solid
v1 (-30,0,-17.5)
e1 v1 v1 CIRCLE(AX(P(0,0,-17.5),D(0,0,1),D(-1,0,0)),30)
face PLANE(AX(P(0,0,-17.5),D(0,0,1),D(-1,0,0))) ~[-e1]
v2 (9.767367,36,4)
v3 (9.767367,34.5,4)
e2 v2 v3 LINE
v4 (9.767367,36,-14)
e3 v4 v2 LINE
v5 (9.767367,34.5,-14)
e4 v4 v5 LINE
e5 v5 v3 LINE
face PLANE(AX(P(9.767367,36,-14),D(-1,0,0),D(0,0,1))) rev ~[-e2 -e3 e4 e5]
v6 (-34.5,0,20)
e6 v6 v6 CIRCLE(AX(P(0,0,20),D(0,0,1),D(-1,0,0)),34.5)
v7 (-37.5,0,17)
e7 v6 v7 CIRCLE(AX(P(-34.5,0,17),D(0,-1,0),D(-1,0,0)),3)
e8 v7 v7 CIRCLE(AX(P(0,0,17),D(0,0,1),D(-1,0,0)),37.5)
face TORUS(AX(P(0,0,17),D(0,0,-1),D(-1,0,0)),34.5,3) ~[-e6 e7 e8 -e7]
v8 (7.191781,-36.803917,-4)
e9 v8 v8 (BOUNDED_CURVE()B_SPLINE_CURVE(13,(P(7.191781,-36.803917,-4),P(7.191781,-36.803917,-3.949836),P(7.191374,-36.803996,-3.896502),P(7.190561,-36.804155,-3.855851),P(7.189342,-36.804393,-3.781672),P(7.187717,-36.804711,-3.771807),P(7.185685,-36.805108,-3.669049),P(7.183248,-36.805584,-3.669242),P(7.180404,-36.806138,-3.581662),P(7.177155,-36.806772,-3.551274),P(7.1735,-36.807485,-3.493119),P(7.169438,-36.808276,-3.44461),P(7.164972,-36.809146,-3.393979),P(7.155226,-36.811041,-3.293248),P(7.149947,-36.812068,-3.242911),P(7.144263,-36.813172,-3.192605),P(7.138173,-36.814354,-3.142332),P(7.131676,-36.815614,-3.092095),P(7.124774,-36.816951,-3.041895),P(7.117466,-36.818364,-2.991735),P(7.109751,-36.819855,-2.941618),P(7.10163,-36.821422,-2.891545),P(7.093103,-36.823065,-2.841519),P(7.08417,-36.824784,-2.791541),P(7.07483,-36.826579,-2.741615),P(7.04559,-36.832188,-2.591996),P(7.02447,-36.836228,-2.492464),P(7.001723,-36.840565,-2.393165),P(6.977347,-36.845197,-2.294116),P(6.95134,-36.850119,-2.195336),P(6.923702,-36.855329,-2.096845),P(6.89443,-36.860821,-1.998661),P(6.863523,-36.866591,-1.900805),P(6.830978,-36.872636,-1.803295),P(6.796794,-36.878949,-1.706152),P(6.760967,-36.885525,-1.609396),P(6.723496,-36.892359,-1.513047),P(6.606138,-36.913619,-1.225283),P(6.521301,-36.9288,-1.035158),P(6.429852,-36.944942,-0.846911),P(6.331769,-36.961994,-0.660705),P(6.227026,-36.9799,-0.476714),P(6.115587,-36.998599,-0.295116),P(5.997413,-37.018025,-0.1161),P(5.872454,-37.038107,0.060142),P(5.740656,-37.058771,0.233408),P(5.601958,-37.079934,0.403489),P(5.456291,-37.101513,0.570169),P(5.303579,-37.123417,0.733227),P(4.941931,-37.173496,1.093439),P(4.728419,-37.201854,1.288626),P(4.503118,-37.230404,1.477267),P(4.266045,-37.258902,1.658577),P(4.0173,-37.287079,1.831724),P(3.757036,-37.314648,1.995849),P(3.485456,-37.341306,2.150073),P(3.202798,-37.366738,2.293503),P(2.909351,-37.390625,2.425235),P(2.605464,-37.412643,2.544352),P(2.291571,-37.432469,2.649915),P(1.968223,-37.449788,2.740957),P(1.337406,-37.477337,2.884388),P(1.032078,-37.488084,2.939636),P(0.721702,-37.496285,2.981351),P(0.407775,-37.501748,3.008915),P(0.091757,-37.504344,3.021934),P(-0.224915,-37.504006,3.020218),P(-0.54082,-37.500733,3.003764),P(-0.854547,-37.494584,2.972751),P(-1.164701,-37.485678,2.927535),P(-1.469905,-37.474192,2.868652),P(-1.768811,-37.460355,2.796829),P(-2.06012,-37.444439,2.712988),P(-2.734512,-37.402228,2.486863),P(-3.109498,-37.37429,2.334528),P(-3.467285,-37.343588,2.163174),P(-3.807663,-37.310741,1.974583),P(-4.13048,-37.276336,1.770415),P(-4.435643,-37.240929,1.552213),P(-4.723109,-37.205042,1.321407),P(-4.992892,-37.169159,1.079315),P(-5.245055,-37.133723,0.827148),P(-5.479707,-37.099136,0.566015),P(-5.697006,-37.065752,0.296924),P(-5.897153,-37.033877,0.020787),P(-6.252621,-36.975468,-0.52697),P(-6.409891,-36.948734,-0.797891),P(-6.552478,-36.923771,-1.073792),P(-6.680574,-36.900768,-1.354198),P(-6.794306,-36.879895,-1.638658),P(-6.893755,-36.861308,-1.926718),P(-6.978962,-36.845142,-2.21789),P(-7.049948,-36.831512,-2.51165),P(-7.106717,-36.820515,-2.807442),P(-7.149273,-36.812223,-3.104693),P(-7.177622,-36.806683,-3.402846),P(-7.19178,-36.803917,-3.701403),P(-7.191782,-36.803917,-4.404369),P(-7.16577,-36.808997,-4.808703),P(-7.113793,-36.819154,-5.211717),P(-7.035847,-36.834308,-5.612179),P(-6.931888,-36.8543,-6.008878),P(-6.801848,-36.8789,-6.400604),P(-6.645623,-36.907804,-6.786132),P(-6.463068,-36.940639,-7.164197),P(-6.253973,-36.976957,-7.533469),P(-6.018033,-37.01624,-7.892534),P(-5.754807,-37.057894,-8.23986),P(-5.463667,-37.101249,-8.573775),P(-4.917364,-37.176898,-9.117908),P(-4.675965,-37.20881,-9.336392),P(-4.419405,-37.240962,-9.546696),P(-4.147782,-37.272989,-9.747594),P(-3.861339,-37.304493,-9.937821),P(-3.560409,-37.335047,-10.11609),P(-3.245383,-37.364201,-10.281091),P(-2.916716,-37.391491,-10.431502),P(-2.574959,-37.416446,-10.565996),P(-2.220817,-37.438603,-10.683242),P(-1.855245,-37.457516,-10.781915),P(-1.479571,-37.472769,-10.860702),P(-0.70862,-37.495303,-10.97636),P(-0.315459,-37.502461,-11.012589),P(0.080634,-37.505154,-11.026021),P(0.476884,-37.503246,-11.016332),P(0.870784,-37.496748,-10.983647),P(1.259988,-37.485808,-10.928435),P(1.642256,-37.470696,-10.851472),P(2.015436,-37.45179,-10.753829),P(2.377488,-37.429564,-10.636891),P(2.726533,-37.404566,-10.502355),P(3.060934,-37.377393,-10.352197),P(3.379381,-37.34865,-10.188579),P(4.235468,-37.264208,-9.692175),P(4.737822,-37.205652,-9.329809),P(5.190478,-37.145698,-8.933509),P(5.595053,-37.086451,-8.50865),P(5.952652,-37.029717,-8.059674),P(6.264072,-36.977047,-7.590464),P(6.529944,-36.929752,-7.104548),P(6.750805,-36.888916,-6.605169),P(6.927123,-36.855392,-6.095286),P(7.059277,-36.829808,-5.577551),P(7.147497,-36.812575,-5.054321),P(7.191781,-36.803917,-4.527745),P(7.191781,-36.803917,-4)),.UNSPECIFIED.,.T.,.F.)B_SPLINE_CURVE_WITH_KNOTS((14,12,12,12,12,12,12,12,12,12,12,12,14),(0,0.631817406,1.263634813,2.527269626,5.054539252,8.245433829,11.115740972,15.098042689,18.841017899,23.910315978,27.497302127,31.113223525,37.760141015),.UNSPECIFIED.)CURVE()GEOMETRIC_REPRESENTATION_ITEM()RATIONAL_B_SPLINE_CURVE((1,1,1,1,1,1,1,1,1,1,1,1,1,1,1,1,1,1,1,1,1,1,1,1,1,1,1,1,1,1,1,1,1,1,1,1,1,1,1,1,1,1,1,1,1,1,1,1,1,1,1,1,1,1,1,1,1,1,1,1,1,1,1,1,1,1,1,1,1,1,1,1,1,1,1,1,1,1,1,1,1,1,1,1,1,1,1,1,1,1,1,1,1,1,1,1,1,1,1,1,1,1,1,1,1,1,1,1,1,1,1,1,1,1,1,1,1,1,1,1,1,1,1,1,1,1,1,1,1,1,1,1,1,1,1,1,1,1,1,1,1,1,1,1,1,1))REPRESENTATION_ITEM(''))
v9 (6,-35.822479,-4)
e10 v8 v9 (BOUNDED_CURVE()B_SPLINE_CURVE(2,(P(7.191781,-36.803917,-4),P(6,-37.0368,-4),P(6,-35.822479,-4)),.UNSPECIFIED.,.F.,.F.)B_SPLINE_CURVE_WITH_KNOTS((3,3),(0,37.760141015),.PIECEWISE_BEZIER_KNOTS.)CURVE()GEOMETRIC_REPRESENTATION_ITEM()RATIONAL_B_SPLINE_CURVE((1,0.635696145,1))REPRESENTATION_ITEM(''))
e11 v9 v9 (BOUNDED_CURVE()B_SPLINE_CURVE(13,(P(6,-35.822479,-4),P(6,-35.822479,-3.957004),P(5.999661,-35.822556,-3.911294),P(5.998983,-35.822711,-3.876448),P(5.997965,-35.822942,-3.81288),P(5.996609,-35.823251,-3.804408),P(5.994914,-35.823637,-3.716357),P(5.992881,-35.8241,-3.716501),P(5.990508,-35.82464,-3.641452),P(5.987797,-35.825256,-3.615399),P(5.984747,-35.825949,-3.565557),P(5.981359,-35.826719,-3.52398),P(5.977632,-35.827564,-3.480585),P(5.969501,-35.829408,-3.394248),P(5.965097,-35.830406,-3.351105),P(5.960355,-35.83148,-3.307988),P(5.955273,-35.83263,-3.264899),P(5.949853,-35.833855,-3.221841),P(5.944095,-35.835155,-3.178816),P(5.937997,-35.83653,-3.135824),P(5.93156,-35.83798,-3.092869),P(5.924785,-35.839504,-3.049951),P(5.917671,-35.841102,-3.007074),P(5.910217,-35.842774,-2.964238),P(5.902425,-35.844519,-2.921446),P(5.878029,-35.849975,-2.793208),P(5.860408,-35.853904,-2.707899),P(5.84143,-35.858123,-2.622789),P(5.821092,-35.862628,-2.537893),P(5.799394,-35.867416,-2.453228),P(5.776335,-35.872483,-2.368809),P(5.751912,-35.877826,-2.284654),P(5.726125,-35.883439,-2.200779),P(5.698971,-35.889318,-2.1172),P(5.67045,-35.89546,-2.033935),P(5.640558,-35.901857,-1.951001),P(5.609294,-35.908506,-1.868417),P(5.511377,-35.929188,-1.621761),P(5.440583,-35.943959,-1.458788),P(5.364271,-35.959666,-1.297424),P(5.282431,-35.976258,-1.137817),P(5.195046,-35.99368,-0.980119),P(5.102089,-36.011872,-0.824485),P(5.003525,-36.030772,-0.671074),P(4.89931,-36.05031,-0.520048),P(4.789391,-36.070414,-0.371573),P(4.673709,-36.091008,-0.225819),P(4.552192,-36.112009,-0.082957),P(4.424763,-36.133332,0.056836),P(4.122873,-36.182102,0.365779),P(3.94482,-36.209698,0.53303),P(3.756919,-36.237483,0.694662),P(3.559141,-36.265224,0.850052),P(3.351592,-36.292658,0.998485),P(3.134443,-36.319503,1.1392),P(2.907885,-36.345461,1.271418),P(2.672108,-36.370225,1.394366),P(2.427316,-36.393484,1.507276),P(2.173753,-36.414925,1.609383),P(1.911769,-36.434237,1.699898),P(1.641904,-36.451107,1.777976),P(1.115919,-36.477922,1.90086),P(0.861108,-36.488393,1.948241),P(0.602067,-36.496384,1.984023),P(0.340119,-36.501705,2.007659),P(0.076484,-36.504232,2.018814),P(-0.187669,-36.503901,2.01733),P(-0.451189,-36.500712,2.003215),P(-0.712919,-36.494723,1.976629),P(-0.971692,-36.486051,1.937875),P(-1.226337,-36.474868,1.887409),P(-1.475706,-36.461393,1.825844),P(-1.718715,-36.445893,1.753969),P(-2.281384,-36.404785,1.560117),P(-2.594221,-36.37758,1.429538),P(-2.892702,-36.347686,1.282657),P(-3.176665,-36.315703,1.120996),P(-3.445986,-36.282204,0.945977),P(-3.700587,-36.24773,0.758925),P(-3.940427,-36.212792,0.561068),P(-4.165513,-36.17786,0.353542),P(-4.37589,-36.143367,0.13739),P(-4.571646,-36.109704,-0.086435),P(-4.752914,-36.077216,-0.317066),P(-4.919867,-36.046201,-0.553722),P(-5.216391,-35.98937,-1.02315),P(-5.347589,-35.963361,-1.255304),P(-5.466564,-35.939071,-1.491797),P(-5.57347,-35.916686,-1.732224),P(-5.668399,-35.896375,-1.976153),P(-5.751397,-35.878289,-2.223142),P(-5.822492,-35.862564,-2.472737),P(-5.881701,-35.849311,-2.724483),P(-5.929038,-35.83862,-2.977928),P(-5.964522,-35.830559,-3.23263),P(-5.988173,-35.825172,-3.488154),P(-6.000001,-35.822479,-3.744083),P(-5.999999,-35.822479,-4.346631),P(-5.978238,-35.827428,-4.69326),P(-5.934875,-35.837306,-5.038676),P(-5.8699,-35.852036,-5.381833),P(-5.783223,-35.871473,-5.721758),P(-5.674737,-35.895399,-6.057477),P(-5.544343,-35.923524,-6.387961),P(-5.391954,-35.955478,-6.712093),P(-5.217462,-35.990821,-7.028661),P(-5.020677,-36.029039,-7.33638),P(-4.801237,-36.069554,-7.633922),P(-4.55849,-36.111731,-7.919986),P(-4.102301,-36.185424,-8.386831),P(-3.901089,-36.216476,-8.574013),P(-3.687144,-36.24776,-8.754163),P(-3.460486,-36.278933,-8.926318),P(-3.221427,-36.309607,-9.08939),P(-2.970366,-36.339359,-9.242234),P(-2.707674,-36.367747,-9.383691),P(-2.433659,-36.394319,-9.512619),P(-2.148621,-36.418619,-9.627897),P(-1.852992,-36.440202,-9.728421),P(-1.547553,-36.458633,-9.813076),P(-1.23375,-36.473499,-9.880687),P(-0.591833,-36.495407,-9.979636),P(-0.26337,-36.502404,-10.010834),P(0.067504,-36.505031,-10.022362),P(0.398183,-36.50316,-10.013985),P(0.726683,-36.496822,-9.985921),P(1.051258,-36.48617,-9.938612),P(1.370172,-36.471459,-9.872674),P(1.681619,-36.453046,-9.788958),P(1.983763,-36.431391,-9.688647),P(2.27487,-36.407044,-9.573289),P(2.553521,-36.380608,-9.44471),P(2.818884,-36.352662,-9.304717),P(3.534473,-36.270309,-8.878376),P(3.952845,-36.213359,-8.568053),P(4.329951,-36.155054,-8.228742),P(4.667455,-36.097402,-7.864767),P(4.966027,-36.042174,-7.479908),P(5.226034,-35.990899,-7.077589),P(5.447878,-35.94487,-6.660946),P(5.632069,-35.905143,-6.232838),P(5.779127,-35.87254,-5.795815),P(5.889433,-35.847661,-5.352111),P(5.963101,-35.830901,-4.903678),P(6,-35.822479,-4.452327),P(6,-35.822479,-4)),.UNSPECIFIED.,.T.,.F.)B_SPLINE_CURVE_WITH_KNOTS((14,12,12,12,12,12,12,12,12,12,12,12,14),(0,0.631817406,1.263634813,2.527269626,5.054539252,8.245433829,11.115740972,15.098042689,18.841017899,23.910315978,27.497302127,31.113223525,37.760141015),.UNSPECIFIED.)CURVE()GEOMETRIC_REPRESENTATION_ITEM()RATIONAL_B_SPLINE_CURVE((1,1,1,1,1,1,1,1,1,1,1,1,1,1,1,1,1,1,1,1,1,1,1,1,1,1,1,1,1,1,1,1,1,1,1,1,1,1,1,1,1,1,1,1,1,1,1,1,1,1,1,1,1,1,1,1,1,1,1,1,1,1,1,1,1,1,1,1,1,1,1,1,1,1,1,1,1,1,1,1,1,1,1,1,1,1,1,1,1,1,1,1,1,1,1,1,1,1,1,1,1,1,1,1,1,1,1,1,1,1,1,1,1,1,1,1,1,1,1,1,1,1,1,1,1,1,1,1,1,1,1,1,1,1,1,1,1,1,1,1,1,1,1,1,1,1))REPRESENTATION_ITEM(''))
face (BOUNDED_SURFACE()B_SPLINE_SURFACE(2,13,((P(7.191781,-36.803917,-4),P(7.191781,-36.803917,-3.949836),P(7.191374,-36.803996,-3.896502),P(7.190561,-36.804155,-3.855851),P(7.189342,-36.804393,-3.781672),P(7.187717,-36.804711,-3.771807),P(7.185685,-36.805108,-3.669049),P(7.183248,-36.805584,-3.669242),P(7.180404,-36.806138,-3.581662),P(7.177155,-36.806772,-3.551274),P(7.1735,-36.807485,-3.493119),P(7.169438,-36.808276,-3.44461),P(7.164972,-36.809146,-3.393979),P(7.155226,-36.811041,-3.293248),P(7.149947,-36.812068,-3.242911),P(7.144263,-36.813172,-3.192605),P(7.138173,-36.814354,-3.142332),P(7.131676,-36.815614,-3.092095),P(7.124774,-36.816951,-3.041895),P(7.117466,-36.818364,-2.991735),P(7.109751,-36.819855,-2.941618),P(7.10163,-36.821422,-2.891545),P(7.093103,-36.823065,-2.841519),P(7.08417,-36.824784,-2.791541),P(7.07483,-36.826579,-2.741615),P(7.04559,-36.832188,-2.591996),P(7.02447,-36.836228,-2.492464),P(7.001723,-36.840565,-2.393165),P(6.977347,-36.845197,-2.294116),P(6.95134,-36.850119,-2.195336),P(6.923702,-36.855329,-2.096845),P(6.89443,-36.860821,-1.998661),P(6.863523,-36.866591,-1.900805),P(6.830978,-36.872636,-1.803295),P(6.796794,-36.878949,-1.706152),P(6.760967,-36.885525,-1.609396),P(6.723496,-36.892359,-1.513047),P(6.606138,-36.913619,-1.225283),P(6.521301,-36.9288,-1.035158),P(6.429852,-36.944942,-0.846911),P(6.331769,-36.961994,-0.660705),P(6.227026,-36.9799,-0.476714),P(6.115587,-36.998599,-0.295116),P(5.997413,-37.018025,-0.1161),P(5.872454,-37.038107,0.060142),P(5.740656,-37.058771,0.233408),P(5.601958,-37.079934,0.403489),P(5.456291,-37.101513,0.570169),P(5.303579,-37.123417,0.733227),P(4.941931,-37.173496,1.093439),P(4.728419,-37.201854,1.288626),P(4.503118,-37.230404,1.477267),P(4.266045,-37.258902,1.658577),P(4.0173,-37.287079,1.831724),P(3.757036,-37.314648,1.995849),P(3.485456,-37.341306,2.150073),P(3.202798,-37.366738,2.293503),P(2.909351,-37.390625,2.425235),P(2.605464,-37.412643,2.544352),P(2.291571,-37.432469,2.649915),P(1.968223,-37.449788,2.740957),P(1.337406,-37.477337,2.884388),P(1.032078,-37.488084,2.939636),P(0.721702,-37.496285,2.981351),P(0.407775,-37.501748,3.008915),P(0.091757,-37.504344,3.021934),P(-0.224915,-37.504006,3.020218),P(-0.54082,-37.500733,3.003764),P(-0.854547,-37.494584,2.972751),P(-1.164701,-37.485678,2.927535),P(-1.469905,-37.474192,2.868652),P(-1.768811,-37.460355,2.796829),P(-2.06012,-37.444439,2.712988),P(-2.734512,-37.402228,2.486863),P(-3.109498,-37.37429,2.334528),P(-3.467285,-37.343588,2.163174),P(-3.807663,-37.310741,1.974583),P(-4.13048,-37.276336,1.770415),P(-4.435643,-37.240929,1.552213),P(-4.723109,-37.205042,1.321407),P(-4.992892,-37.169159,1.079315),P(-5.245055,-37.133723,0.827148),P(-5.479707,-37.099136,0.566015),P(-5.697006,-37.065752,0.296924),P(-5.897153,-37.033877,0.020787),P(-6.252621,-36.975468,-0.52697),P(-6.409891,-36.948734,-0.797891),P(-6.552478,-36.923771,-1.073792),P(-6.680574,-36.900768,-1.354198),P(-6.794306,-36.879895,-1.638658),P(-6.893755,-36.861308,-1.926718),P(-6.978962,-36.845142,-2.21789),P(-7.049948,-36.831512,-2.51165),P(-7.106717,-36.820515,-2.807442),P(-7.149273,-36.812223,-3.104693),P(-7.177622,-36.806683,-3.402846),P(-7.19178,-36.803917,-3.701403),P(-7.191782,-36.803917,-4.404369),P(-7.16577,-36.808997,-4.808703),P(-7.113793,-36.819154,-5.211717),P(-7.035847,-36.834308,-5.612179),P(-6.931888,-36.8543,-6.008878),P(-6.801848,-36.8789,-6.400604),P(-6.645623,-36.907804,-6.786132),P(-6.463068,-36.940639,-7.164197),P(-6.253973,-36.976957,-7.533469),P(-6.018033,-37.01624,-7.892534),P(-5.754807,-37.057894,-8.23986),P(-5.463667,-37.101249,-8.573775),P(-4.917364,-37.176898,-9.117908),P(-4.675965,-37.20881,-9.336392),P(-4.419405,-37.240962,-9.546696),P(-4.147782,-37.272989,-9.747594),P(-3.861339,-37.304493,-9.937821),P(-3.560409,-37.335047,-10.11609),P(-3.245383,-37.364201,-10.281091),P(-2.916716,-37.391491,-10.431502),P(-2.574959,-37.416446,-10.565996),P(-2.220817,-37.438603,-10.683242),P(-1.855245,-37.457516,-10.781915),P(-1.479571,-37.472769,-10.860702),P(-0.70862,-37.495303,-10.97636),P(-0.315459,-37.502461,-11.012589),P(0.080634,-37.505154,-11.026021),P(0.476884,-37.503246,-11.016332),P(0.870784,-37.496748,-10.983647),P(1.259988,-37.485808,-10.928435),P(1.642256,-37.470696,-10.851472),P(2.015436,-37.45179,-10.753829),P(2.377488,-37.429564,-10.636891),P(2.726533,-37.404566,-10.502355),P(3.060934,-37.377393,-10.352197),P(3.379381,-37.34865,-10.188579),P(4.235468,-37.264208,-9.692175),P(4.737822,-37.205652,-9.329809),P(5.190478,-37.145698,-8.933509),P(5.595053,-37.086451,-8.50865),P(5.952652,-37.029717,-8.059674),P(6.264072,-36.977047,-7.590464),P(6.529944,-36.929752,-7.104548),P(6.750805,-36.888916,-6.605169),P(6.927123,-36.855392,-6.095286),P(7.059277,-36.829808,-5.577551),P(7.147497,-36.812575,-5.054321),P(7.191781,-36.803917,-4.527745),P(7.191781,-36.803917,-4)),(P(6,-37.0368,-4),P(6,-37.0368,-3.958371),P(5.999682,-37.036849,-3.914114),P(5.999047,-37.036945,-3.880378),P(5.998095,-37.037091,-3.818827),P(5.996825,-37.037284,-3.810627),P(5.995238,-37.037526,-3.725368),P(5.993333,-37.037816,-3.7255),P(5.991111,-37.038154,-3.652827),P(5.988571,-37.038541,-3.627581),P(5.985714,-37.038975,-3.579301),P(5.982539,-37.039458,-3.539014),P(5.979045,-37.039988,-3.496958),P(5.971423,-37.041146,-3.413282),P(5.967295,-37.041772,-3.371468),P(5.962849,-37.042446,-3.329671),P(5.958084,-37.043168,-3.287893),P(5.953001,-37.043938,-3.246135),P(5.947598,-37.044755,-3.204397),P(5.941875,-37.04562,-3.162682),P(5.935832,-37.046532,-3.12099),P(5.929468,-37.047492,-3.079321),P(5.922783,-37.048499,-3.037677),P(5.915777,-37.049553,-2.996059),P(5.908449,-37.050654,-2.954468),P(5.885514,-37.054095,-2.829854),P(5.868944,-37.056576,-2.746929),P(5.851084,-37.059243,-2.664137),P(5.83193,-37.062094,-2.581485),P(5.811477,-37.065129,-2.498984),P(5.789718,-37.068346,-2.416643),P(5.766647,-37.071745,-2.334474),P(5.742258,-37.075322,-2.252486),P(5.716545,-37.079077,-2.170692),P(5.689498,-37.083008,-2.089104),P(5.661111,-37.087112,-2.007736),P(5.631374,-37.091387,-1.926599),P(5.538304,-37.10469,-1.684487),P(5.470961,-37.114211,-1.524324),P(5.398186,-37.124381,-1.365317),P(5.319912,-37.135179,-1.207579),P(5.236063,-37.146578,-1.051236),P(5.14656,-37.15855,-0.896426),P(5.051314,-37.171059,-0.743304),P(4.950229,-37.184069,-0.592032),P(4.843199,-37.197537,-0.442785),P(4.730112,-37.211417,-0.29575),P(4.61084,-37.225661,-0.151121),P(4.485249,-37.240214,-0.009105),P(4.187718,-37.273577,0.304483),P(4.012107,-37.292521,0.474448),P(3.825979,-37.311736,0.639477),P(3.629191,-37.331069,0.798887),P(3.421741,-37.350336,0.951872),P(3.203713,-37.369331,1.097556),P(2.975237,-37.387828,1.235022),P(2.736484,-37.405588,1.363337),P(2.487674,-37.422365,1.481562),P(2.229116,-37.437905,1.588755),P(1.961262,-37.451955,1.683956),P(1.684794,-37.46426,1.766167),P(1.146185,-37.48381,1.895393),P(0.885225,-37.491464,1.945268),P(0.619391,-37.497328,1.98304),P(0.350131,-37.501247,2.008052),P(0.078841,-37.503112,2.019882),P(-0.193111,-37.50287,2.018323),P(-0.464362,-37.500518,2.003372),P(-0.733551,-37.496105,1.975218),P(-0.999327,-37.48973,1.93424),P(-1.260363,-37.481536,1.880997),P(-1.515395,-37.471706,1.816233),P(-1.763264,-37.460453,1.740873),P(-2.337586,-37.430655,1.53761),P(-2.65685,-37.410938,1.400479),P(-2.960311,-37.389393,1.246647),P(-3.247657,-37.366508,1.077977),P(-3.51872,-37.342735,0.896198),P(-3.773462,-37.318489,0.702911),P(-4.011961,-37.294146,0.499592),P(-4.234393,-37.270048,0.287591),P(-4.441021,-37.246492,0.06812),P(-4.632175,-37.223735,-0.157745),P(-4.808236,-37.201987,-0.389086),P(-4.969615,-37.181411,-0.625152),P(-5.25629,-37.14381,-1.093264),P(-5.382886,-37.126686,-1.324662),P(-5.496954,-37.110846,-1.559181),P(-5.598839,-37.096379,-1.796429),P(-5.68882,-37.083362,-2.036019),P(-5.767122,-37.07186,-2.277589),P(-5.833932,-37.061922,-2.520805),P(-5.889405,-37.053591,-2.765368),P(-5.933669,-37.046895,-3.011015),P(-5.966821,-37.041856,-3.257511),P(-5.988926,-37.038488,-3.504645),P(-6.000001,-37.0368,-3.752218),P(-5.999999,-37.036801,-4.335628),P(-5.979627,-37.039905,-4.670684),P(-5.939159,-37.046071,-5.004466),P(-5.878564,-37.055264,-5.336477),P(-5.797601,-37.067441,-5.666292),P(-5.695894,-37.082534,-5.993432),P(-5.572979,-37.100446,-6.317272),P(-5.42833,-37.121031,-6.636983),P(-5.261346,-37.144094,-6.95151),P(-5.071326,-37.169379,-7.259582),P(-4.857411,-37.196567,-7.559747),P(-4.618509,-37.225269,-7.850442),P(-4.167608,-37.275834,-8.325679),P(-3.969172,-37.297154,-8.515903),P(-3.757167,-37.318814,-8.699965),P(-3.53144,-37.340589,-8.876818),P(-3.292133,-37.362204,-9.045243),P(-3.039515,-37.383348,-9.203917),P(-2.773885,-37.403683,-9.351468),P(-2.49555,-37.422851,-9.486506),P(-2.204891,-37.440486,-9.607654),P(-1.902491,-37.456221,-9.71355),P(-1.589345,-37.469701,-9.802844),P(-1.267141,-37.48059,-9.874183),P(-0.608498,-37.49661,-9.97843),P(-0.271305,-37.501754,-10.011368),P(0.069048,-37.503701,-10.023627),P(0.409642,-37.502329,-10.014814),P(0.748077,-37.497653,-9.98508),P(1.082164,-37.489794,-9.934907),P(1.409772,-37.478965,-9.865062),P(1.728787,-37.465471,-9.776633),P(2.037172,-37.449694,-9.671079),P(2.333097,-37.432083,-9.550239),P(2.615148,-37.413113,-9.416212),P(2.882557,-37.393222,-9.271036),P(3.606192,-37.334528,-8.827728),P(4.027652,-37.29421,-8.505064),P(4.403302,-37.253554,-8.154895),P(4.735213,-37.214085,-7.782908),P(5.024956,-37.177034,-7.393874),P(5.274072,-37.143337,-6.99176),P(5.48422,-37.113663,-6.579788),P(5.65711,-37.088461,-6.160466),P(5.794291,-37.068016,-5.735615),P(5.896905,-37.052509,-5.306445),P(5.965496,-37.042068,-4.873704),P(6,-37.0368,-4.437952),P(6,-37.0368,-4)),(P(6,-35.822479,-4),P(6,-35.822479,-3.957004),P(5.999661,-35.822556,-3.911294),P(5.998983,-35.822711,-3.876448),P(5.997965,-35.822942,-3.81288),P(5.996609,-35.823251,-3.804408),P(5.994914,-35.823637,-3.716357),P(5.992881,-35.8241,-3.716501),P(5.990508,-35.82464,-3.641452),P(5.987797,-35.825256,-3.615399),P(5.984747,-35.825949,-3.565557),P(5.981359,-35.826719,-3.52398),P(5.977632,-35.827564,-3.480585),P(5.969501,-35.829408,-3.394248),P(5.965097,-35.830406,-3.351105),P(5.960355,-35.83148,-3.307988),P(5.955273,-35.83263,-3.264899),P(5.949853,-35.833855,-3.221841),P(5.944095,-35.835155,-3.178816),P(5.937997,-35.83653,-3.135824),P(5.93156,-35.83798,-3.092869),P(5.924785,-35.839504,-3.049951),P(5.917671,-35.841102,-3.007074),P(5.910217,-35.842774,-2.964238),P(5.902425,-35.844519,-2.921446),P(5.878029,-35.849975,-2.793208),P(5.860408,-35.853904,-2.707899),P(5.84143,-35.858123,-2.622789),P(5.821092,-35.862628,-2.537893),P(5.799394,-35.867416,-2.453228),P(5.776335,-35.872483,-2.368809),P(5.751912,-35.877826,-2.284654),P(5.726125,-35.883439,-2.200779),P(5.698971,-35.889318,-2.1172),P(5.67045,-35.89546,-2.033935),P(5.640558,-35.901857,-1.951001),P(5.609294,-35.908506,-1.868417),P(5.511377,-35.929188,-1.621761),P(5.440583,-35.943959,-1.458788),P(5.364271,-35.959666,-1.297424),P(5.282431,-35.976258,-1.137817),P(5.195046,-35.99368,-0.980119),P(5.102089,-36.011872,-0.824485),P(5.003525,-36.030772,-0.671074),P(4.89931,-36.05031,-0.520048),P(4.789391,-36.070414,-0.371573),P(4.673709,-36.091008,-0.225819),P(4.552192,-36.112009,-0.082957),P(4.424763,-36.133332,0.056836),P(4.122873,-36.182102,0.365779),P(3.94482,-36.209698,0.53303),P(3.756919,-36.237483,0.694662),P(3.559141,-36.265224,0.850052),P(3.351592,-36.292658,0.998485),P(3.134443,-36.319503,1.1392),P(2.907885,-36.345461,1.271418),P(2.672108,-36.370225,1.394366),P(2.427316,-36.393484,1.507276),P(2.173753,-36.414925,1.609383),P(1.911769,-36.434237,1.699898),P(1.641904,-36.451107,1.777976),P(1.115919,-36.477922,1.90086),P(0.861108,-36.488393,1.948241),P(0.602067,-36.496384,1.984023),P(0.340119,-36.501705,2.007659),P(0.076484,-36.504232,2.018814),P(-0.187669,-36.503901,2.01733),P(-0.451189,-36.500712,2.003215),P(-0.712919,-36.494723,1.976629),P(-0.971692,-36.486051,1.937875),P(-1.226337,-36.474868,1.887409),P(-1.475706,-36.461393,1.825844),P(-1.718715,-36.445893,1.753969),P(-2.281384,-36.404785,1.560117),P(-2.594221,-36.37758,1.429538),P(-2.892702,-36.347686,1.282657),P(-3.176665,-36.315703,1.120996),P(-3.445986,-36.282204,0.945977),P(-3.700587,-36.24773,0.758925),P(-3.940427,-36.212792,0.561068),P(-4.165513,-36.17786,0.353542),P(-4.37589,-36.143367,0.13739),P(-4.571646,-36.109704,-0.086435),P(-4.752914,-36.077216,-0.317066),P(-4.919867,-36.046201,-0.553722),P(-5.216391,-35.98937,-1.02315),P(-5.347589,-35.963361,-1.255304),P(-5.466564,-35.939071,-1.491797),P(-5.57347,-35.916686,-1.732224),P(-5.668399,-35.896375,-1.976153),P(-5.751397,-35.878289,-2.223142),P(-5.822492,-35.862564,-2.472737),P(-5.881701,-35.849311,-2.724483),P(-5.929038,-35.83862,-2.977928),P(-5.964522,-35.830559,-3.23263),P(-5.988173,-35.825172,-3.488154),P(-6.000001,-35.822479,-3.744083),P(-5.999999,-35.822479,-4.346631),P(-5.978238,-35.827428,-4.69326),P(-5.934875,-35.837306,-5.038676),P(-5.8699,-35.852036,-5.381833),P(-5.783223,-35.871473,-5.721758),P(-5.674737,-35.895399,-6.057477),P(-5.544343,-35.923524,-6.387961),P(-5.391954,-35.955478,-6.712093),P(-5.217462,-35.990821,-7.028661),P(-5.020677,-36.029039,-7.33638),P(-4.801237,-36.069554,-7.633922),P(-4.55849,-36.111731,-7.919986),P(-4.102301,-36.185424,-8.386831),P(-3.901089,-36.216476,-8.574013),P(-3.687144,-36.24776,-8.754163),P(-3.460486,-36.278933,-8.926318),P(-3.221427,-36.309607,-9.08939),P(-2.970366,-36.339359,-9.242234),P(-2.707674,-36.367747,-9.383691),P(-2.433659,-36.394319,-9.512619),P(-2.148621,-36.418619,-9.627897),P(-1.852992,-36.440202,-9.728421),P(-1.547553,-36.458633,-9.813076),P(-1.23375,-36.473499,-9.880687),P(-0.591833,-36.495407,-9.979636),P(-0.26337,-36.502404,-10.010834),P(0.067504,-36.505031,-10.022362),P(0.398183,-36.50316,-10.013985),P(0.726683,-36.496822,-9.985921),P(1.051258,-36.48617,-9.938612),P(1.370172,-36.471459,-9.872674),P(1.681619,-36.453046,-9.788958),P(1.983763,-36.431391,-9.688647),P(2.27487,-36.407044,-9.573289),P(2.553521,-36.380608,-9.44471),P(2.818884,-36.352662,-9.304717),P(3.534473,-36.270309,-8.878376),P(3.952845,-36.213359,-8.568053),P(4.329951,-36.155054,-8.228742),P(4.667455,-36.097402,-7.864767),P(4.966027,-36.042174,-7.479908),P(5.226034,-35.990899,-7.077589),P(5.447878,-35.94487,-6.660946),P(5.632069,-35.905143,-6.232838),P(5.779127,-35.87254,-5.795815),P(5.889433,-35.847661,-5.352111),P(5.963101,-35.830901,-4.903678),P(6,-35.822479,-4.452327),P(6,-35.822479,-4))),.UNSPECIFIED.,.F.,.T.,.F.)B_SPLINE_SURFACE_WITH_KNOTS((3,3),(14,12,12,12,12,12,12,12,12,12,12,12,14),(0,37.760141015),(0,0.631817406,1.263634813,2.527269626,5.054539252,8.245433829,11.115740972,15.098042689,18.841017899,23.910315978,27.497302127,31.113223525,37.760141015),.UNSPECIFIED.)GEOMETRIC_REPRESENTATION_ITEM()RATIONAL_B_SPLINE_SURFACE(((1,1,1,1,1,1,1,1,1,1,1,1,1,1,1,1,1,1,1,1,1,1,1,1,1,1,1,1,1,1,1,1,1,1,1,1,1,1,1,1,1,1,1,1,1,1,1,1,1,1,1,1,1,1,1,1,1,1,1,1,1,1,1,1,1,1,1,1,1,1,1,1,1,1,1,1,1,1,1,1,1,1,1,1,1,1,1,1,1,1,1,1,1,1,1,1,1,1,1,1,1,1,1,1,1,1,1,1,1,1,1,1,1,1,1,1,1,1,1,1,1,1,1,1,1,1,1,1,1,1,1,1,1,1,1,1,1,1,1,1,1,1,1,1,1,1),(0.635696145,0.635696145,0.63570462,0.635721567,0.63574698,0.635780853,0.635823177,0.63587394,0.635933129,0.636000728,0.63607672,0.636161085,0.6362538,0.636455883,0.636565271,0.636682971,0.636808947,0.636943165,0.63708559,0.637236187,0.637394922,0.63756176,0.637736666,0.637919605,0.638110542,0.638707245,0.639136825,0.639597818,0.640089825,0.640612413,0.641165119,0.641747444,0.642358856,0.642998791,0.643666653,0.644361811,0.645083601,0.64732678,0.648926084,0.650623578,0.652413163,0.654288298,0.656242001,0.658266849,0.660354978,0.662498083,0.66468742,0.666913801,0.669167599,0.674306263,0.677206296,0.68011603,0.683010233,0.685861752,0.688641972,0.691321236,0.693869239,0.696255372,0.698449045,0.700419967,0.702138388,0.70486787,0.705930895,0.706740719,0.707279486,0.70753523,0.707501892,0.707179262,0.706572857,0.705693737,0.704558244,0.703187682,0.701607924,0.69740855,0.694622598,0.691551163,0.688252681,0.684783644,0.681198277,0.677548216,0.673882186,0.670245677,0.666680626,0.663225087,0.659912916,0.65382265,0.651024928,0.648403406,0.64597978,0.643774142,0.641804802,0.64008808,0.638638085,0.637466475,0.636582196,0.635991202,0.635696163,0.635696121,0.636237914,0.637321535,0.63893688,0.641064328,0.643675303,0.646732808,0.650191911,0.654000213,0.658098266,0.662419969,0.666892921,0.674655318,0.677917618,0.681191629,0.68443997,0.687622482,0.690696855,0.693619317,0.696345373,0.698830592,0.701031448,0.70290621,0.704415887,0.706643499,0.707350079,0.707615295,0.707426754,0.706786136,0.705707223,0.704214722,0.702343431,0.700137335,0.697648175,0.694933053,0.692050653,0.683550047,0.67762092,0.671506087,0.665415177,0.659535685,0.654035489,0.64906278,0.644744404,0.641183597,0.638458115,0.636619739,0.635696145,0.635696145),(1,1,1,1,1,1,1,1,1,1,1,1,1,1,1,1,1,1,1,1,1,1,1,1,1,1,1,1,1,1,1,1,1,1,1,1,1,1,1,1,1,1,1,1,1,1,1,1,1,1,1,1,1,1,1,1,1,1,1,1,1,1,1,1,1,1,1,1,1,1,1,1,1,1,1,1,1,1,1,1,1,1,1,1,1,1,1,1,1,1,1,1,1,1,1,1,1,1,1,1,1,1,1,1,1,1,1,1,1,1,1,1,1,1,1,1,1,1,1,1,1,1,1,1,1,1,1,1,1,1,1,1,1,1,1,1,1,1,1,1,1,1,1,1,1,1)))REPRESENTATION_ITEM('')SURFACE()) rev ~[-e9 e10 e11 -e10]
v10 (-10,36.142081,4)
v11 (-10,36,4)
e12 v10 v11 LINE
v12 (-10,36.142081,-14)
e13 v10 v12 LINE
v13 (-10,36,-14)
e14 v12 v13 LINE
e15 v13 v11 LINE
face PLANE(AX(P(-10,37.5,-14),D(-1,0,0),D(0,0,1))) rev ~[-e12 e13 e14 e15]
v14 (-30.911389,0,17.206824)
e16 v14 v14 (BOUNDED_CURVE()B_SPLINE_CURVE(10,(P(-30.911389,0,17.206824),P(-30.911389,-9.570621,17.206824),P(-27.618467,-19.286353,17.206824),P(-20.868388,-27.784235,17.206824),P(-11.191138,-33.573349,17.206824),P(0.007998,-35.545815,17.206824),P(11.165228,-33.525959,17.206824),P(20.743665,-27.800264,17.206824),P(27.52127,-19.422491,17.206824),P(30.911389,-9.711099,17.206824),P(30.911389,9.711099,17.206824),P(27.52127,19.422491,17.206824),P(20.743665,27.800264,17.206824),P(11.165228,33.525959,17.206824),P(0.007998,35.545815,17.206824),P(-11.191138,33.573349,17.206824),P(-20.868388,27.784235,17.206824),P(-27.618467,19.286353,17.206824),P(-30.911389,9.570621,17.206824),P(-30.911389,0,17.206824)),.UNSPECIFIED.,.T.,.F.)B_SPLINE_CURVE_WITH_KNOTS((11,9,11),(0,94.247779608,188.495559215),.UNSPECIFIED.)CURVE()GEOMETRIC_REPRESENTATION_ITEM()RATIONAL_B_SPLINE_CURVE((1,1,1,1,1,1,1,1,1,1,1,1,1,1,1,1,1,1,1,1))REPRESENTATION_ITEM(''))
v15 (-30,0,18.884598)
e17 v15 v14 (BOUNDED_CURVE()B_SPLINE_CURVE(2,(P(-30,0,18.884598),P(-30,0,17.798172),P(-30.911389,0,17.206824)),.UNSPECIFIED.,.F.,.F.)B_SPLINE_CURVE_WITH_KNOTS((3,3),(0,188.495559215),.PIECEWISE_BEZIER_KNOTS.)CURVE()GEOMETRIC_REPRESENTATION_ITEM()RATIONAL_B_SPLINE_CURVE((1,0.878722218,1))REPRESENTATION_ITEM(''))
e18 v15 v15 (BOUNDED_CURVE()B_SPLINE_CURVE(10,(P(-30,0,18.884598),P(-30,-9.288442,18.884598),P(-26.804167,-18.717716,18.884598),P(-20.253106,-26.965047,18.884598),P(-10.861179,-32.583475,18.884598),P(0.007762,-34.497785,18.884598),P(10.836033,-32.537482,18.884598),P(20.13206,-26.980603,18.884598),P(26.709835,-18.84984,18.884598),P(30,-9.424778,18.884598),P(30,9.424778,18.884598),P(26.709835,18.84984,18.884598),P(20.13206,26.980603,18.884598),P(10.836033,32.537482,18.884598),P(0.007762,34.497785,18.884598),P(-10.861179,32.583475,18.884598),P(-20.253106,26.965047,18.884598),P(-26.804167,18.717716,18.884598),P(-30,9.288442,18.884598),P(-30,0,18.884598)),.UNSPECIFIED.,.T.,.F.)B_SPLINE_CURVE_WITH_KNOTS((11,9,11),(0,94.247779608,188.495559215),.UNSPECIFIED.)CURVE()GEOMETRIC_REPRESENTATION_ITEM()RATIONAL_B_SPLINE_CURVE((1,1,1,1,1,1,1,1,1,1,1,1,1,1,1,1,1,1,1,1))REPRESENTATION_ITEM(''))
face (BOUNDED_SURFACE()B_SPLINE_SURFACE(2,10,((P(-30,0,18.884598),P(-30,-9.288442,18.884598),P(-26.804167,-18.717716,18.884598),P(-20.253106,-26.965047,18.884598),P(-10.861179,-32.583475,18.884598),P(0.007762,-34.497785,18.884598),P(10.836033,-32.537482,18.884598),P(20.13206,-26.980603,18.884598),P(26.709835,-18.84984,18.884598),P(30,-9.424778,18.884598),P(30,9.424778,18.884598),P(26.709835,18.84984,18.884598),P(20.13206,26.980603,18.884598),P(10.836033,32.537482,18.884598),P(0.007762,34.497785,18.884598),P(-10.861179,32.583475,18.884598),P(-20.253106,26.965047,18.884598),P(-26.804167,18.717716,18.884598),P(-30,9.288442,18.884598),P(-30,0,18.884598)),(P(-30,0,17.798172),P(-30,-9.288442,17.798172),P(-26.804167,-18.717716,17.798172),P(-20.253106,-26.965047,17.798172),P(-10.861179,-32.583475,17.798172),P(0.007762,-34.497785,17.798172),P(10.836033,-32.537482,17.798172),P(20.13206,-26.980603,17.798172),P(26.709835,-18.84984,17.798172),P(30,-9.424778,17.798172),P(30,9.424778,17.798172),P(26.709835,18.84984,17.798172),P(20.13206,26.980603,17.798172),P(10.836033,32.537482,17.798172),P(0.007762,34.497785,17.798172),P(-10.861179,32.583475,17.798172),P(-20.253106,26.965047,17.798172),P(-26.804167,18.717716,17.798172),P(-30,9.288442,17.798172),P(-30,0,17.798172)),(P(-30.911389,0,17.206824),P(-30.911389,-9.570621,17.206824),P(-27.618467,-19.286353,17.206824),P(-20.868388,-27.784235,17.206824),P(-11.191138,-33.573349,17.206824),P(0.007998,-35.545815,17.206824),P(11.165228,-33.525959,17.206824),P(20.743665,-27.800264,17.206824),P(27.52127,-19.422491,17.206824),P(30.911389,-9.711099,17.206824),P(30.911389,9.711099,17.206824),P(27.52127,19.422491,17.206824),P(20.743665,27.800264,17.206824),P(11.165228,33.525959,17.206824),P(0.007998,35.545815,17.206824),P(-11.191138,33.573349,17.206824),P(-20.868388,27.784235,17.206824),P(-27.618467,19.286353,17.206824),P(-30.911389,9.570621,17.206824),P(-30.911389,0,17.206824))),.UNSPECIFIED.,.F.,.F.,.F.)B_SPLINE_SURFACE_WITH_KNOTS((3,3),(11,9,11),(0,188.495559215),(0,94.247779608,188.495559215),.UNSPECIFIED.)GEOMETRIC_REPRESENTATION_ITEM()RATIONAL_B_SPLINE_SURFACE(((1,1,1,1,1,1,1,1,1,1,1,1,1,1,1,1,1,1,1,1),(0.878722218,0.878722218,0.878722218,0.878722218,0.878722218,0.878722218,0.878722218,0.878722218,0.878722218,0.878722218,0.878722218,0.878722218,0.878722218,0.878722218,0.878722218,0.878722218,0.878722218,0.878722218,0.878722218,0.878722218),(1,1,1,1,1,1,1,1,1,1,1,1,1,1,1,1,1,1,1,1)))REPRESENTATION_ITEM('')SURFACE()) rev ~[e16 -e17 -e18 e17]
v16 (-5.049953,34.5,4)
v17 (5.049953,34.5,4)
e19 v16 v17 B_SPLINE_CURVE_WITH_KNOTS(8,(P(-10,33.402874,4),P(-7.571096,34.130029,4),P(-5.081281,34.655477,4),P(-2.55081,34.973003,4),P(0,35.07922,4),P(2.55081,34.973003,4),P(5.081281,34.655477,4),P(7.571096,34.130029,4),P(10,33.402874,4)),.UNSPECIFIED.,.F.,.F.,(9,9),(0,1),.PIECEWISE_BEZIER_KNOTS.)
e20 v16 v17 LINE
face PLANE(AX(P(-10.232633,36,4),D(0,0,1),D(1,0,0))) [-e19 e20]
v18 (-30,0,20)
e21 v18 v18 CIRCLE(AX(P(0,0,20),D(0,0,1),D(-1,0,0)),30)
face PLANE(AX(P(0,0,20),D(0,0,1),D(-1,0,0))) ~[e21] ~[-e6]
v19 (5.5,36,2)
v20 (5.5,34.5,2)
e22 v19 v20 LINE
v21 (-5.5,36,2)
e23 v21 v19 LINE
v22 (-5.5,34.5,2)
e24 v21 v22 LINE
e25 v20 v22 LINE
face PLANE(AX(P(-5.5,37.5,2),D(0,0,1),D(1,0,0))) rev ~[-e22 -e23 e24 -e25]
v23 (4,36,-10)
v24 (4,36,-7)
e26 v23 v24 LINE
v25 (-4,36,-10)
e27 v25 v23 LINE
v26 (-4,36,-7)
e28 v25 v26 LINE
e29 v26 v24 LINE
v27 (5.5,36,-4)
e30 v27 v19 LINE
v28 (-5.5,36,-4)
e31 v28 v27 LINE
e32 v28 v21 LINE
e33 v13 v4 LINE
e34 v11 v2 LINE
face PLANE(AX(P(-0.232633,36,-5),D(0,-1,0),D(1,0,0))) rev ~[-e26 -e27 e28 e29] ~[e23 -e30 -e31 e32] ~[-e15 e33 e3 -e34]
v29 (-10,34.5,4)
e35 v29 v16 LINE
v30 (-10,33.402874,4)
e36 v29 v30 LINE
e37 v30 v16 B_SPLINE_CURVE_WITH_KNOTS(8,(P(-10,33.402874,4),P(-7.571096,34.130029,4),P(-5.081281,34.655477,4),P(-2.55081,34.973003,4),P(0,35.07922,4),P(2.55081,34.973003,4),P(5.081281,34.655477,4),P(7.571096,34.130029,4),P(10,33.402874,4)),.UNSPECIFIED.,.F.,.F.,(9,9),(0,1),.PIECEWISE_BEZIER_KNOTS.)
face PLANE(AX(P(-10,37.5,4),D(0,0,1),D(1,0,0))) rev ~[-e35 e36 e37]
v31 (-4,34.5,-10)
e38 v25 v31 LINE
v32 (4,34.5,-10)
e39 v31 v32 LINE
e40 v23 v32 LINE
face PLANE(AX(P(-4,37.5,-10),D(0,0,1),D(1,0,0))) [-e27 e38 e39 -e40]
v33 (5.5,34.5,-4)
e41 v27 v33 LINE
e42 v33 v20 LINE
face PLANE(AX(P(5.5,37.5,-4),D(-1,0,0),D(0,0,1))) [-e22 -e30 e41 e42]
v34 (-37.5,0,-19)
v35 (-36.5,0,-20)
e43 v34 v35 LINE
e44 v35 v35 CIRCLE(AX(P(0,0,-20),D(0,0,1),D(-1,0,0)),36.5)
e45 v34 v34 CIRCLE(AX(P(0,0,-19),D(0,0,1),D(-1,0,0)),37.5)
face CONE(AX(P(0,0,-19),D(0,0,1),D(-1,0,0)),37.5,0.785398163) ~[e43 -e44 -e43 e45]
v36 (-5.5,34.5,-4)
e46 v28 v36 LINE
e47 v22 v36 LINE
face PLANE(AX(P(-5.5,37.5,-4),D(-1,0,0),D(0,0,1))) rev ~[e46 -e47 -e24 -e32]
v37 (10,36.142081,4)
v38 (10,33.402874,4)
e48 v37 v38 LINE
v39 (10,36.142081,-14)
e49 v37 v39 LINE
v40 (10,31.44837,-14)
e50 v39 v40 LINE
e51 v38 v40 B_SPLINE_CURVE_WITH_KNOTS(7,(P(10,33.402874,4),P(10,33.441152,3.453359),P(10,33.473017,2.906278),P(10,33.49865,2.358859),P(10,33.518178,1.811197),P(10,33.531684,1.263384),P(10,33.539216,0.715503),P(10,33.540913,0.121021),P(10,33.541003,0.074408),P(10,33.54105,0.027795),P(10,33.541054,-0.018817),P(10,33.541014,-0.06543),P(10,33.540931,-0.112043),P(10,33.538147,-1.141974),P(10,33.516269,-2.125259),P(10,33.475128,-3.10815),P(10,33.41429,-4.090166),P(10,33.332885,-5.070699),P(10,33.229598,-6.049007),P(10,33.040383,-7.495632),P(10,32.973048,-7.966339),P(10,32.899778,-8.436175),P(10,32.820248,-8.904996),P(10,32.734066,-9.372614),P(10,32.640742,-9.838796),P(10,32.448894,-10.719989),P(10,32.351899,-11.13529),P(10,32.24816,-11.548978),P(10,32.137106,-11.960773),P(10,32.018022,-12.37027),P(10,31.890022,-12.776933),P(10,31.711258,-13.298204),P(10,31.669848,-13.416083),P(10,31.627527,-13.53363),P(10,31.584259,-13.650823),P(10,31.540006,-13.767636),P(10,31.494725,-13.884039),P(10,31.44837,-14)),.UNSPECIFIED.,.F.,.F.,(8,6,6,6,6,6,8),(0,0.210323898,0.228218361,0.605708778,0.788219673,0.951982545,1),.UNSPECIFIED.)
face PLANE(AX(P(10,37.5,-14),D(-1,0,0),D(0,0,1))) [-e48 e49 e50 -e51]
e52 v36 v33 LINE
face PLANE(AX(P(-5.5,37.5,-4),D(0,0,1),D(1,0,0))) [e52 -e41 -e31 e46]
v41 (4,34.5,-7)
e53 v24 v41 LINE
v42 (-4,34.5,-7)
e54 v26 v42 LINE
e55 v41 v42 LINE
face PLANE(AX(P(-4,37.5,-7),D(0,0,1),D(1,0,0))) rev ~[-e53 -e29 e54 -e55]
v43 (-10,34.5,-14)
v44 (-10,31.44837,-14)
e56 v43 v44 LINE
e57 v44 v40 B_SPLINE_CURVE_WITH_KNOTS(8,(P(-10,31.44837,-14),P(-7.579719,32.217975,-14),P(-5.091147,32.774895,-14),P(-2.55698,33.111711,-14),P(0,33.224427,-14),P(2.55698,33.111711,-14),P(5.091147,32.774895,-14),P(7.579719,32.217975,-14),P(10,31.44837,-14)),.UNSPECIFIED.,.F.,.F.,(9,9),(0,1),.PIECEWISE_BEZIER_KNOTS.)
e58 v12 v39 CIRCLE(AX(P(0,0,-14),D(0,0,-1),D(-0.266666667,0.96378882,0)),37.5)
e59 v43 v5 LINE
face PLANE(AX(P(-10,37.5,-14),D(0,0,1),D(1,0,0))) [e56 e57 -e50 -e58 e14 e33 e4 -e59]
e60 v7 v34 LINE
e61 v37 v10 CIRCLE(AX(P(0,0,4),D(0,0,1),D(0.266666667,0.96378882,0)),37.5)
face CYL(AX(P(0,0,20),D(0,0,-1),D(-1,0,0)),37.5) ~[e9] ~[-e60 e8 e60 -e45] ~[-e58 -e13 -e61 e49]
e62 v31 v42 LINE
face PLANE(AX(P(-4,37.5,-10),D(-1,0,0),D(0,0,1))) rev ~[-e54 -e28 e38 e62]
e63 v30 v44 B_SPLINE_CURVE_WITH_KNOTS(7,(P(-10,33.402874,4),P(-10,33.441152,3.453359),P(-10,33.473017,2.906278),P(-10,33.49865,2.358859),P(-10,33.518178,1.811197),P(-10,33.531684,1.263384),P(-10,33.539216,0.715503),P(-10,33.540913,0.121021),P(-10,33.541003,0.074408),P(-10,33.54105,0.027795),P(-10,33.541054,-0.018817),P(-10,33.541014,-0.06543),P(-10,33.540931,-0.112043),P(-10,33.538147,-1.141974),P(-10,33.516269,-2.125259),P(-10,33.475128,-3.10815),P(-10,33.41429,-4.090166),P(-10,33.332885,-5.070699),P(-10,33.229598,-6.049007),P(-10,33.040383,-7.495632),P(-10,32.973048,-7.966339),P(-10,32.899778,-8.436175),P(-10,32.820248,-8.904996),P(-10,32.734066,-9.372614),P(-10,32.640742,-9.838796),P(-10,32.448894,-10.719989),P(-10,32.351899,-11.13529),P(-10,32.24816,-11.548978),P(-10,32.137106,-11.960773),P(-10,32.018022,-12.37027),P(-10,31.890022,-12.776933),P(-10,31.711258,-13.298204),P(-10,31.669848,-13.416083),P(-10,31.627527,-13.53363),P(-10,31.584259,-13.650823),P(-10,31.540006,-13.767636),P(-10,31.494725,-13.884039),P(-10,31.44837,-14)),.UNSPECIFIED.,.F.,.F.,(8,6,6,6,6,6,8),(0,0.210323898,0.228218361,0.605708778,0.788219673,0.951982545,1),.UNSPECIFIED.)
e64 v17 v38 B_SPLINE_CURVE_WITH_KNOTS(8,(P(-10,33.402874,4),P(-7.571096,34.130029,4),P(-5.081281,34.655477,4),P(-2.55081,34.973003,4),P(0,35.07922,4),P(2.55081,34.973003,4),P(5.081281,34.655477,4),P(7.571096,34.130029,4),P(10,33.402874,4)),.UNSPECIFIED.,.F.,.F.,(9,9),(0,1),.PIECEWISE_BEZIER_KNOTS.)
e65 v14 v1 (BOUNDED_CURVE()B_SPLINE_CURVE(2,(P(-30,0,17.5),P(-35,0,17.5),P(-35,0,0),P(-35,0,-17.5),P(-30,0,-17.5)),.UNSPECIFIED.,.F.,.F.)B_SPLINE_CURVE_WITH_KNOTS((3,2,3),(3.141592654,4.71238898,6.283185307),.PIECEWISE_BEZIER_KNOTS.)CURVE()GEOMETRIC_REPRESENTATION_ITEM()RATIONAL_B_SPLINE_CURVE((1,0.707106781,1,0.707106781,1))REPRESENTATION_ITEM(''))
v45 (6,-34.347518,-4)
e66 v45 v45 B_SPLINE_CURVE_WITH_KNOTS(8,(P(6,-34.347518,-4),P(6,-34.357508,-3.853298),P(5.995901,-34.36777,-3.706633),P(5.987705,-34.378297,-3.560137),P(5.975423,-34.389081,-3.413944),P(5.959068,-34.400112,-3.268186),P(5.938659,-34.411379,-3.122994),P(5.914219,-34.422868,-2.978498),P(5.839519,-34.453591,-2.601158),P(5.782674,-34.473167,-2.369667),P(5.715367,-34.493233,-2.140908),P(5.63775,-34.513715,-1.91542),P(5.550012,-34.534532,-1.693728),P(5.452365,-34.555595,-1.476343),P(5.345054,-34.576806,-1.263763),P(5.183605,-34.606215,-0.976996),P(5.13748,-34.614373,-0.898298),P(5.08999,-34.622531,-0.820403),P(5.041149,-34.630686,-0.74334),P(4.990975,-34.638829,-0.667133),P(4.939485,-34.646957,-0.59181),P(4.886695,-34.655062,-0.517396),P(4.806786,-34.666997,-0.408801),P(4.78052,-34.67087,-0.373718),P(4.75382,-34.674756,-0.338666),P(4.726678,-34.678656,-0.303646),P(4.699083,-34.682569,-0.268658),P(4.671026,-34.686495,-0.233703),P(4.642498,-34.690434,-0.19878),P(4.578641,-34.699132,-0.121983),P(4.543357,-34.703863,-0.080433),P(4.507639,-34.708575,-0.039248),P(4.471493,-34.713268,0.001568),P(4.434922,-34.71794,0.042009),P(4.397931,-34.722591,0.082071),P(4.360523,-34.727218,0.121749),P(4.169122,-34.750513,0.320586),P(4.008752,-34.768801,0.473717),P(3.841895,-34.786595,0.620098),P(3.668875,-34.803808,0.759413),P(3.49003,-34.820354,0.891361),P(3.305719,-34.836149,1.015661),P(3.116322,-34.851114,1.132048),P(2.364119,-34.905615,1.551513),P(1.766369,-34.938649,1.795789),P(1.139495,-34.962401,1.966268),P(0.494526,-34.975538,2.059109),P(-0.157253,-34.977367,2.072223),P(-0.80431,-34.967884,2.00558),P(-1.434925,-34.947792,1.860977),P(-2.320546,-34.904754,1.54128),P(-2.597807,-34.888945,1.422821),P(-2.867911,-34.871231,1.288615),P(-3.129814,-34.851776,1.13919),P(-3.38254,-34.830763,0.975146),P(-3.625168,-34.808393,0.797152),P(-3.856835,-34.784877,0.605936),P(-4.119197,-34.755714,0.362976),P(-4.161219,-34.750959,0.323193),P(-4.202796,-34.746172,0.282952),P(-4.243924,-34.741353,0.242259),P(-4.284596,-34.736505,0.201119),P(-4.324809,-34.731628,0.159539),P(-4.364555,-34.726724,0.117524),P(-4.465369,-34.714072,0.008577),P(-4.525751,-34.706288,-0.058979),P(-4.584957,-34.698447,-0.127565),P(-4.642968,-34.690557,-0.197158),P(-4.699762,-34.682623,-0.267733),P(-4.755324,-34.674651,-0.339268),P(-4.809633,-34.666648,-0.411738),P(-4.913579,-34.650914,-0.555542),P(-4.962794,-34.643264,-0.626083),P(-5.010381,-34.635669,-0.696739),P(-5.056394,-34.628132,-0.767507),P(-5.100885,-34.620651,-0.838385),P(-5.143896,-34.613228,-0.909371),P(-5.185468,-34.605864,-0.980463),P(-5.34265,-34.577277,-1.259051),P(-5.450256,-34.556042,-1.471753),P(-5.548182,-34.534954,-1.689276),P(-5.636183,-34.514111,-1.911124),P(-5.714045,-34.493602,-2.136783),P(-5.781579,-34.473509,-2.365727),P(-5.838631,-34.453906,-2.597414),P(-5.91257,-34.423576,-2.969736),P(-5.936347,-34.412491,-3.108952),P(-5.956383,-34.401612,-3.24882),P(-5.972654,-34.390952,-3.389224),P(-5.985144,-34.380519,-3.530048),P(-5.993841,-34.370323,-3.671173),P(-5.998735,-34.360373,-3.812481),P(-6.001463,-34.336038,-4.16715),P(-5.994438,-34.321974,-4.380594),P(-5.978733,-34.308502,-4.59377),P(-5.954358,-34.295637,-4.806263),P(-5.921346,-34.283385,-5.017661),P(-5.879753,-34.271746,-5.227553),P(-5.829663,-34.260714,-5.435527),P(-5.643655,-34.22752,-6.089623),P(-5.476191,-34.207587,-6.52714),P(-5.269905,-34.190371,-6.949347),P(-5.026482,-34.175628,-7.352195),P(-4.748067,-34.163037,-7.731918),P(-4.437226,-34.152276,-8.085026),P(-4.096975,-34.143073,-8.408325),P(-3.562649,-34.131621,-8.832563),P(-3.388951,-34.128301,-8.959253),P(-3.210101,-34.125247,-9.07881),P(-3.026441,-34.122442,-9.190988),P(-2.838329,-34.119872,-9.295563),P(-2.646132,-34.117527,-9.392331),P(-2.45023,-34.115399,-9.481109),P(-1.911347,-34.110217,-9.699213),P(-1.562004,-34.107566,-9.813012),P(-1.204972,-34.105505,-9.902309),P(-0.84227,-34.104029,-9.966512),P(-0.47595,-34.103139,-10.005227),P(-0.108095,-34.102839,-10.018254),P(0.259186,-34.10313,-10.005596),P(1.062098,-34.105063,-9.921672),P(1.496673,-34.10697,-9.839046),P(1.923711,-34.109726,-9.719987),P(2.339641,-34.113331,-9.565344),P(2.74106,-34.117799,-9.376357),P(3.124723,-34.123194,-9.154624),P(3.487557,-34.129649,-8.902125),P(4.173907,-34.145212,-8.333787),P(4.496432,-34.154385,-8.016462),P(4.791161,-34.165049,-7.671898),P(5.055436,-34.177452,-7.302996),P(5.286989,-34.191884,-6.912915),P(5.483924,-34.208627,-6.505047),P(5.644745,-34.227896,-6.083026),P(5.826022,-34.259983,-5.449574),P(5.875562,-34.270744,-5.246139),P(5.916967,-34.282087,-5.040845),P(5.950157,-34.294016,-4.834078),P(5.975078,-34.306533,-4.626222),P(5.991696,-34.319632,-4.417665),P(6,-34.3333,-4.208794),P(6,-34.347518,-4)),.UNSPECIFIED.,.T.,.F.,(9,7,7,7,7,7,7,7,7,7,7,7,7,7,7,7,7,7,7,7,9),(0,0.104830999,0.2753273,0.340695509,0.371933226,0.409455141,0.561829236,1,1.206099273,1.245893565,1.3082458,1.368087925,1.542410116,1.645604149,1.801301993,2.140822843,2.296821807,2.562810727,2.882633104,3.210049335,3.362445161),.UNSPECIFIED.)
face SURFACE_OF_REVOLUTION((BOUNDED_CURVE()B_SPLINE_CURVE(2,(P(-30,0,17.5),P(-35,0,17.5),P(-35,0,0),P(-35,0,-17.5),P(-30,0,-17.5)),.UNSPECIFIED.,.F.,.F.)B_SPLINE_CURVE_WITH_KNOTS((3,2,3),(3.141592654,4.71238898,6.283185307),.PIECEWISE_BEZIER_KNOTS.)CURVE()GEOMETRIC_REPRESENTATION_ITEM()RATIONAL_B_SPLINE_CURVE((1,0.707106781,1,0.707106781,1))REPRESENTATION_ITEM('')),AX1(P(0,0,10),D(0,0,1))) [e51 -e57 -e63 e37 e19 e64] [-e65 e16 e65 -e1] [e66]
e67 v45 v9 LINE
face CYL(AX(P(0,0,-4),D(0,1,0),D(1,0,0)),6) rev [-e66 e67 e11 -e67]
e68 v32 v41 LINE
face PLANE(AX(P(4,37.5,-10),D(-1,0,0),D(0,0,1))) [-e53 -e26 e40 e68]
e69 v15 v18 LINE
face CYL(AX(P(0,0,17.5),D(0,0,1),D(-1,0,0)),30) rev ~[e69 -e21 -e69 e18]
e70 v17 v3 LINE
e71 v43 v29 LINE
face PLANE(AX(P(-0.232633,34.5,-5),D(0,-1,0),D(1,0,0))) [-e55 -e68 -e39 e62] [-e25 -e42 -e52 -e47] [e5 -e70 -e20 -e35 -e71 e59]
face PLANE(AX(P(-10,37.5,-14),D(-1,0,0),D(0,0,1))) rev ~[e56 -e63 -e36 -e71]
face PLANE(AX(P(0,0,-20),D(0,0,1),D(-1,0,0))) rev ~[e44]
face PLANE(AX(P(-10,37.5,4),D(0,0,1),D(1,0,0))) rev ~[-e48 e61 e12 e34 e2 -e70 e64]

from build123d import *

# Parameters (mm, degrees)
F2_R      = 3
F3_SIZE   = 1
F4_R      = 2
F0_R      = 6
F0_R_2    = 5.5
F5_DEPTH  = 43.8
F6_R      = 1
F8_W      = 20
F8_H      = 18
F8_W_2    = 8
F8_H_2    = 3
F8_W_3    = 11
F8_H_3    = 6
F9_DEPTH  = 11
F11_W     = 20
F11_H     = 18
F12_DEPTH = 1.5
F13_DEPTH = 10


with BuildPart() as f1:
    # F0 (on Front) → F1 (revolve)
    with BuildSketch(Plane.XZ):
        with BuildLine():
            Line((0, -17.5), (-30, -17.5))
            add(Edge.make_bspline(
                [(-30, 17.5), (-35, 17.5), (-35, 0), (-35, -17.5), (-30, -17.5)],
                knots=[3.1415926536, 3.1415926536, 3.1415926536, 4.7123889804, 4.7123889804, 6.2831853072, 6.2831853072, 6.2831853072], degree=2, weights=[1, 0.7071067812, 1, 0.7071067812, 1]))
            Line((-30, 17.5), (-30, 20))
            Line((-30, 20), (-37.5, 20))
            Line((-37.5, 20), (-37.5, -20))
            Line((-37.5, -20), (0, -20))
            Line((0, -20), (0, -17.5))
        make_face()
    revolve(axis=Axis((0, 0, 10), (0, 0, 1)))

    # F2
    f2_edges = [f1.edges().sort_by_distance(p)[0] for p in [
        (37.5, 0, 20),
    ]]
    fillet(f2_edges, radius=F2_R)

    # F3
    f3_edges = [f1.edges().sort_by_distance(p)[0] for p in [
        (37.5, 0, -20),
    ]]
    chamfer(f3_edges, length=F3_SIZE)

    # F4
    f4_edges = [f1.edges().sort_by_distance(p)[0] for p in [
        (30, 0, 17.5),
    ]]
    fillet(f4_edges, radius=F4_R)

    # F0 (on Front) → F5 (cut)
    with BuildSketch(Plane.XZ):
        with Locations((0, -4)):
            Circle(F0_R)
        with Locations((0, -4)):
            Circle(F0_R_2, mode=Mode.SUBTRACT)
        with Locations((0, -4)):
            Circle(F0_R_2)
    extrude(amount=F5_DEPTH, mode=Mode.SUBTRACT)

    # F6
    f6_edges = [f1.edges().sort_by_distance(p)[0] for p in [
        (-6, -37.016888, -4),
    ]]
    fillet(f6_edges, radius=F6_R)

    # F8 (on offset) → F9 (cut)
    with BuildSketch(Plane.XZ.offset(-37.5)):
        with Locations((0, -5)):
            Rectangle(F8_W, F8_H)
        with Locations((0, -8.5)):
            Rectangle(F8_W_2, F8_H_2, mode=Mode.SUBTRACT)
        with Locations((0, -1)):
            Rectangle(F8_W_3, F8_H_3, mode=Mode.SUBTRACT)
    extrude(amount=F9_DEPTH, mode=Mode.SUBTRACT)

    # F11 (on offset) → F12 (join)
    with BuildSketch(Plane.XZ.offset(-36)):
        with Locations((-0.2326329207, -5)):
            Rectangle(F11_W, F11_H)
    extrude(amount=F12_DEPTH)

    # F8 (on offset) → F13 (cut)
    with BuildSketch(Plane.XZ.offset(-37.5)):
        with Locations((0, -1)):
            Rectangle(F8_W_3, F8_H_3)
        with Locations((0, -8.5)):
            Rectangle(F8_W_2, F8_H_2)
    extrude(amount=F13_DEPTH, mode=Mode.SUBTRACT)


solid = f1.part
